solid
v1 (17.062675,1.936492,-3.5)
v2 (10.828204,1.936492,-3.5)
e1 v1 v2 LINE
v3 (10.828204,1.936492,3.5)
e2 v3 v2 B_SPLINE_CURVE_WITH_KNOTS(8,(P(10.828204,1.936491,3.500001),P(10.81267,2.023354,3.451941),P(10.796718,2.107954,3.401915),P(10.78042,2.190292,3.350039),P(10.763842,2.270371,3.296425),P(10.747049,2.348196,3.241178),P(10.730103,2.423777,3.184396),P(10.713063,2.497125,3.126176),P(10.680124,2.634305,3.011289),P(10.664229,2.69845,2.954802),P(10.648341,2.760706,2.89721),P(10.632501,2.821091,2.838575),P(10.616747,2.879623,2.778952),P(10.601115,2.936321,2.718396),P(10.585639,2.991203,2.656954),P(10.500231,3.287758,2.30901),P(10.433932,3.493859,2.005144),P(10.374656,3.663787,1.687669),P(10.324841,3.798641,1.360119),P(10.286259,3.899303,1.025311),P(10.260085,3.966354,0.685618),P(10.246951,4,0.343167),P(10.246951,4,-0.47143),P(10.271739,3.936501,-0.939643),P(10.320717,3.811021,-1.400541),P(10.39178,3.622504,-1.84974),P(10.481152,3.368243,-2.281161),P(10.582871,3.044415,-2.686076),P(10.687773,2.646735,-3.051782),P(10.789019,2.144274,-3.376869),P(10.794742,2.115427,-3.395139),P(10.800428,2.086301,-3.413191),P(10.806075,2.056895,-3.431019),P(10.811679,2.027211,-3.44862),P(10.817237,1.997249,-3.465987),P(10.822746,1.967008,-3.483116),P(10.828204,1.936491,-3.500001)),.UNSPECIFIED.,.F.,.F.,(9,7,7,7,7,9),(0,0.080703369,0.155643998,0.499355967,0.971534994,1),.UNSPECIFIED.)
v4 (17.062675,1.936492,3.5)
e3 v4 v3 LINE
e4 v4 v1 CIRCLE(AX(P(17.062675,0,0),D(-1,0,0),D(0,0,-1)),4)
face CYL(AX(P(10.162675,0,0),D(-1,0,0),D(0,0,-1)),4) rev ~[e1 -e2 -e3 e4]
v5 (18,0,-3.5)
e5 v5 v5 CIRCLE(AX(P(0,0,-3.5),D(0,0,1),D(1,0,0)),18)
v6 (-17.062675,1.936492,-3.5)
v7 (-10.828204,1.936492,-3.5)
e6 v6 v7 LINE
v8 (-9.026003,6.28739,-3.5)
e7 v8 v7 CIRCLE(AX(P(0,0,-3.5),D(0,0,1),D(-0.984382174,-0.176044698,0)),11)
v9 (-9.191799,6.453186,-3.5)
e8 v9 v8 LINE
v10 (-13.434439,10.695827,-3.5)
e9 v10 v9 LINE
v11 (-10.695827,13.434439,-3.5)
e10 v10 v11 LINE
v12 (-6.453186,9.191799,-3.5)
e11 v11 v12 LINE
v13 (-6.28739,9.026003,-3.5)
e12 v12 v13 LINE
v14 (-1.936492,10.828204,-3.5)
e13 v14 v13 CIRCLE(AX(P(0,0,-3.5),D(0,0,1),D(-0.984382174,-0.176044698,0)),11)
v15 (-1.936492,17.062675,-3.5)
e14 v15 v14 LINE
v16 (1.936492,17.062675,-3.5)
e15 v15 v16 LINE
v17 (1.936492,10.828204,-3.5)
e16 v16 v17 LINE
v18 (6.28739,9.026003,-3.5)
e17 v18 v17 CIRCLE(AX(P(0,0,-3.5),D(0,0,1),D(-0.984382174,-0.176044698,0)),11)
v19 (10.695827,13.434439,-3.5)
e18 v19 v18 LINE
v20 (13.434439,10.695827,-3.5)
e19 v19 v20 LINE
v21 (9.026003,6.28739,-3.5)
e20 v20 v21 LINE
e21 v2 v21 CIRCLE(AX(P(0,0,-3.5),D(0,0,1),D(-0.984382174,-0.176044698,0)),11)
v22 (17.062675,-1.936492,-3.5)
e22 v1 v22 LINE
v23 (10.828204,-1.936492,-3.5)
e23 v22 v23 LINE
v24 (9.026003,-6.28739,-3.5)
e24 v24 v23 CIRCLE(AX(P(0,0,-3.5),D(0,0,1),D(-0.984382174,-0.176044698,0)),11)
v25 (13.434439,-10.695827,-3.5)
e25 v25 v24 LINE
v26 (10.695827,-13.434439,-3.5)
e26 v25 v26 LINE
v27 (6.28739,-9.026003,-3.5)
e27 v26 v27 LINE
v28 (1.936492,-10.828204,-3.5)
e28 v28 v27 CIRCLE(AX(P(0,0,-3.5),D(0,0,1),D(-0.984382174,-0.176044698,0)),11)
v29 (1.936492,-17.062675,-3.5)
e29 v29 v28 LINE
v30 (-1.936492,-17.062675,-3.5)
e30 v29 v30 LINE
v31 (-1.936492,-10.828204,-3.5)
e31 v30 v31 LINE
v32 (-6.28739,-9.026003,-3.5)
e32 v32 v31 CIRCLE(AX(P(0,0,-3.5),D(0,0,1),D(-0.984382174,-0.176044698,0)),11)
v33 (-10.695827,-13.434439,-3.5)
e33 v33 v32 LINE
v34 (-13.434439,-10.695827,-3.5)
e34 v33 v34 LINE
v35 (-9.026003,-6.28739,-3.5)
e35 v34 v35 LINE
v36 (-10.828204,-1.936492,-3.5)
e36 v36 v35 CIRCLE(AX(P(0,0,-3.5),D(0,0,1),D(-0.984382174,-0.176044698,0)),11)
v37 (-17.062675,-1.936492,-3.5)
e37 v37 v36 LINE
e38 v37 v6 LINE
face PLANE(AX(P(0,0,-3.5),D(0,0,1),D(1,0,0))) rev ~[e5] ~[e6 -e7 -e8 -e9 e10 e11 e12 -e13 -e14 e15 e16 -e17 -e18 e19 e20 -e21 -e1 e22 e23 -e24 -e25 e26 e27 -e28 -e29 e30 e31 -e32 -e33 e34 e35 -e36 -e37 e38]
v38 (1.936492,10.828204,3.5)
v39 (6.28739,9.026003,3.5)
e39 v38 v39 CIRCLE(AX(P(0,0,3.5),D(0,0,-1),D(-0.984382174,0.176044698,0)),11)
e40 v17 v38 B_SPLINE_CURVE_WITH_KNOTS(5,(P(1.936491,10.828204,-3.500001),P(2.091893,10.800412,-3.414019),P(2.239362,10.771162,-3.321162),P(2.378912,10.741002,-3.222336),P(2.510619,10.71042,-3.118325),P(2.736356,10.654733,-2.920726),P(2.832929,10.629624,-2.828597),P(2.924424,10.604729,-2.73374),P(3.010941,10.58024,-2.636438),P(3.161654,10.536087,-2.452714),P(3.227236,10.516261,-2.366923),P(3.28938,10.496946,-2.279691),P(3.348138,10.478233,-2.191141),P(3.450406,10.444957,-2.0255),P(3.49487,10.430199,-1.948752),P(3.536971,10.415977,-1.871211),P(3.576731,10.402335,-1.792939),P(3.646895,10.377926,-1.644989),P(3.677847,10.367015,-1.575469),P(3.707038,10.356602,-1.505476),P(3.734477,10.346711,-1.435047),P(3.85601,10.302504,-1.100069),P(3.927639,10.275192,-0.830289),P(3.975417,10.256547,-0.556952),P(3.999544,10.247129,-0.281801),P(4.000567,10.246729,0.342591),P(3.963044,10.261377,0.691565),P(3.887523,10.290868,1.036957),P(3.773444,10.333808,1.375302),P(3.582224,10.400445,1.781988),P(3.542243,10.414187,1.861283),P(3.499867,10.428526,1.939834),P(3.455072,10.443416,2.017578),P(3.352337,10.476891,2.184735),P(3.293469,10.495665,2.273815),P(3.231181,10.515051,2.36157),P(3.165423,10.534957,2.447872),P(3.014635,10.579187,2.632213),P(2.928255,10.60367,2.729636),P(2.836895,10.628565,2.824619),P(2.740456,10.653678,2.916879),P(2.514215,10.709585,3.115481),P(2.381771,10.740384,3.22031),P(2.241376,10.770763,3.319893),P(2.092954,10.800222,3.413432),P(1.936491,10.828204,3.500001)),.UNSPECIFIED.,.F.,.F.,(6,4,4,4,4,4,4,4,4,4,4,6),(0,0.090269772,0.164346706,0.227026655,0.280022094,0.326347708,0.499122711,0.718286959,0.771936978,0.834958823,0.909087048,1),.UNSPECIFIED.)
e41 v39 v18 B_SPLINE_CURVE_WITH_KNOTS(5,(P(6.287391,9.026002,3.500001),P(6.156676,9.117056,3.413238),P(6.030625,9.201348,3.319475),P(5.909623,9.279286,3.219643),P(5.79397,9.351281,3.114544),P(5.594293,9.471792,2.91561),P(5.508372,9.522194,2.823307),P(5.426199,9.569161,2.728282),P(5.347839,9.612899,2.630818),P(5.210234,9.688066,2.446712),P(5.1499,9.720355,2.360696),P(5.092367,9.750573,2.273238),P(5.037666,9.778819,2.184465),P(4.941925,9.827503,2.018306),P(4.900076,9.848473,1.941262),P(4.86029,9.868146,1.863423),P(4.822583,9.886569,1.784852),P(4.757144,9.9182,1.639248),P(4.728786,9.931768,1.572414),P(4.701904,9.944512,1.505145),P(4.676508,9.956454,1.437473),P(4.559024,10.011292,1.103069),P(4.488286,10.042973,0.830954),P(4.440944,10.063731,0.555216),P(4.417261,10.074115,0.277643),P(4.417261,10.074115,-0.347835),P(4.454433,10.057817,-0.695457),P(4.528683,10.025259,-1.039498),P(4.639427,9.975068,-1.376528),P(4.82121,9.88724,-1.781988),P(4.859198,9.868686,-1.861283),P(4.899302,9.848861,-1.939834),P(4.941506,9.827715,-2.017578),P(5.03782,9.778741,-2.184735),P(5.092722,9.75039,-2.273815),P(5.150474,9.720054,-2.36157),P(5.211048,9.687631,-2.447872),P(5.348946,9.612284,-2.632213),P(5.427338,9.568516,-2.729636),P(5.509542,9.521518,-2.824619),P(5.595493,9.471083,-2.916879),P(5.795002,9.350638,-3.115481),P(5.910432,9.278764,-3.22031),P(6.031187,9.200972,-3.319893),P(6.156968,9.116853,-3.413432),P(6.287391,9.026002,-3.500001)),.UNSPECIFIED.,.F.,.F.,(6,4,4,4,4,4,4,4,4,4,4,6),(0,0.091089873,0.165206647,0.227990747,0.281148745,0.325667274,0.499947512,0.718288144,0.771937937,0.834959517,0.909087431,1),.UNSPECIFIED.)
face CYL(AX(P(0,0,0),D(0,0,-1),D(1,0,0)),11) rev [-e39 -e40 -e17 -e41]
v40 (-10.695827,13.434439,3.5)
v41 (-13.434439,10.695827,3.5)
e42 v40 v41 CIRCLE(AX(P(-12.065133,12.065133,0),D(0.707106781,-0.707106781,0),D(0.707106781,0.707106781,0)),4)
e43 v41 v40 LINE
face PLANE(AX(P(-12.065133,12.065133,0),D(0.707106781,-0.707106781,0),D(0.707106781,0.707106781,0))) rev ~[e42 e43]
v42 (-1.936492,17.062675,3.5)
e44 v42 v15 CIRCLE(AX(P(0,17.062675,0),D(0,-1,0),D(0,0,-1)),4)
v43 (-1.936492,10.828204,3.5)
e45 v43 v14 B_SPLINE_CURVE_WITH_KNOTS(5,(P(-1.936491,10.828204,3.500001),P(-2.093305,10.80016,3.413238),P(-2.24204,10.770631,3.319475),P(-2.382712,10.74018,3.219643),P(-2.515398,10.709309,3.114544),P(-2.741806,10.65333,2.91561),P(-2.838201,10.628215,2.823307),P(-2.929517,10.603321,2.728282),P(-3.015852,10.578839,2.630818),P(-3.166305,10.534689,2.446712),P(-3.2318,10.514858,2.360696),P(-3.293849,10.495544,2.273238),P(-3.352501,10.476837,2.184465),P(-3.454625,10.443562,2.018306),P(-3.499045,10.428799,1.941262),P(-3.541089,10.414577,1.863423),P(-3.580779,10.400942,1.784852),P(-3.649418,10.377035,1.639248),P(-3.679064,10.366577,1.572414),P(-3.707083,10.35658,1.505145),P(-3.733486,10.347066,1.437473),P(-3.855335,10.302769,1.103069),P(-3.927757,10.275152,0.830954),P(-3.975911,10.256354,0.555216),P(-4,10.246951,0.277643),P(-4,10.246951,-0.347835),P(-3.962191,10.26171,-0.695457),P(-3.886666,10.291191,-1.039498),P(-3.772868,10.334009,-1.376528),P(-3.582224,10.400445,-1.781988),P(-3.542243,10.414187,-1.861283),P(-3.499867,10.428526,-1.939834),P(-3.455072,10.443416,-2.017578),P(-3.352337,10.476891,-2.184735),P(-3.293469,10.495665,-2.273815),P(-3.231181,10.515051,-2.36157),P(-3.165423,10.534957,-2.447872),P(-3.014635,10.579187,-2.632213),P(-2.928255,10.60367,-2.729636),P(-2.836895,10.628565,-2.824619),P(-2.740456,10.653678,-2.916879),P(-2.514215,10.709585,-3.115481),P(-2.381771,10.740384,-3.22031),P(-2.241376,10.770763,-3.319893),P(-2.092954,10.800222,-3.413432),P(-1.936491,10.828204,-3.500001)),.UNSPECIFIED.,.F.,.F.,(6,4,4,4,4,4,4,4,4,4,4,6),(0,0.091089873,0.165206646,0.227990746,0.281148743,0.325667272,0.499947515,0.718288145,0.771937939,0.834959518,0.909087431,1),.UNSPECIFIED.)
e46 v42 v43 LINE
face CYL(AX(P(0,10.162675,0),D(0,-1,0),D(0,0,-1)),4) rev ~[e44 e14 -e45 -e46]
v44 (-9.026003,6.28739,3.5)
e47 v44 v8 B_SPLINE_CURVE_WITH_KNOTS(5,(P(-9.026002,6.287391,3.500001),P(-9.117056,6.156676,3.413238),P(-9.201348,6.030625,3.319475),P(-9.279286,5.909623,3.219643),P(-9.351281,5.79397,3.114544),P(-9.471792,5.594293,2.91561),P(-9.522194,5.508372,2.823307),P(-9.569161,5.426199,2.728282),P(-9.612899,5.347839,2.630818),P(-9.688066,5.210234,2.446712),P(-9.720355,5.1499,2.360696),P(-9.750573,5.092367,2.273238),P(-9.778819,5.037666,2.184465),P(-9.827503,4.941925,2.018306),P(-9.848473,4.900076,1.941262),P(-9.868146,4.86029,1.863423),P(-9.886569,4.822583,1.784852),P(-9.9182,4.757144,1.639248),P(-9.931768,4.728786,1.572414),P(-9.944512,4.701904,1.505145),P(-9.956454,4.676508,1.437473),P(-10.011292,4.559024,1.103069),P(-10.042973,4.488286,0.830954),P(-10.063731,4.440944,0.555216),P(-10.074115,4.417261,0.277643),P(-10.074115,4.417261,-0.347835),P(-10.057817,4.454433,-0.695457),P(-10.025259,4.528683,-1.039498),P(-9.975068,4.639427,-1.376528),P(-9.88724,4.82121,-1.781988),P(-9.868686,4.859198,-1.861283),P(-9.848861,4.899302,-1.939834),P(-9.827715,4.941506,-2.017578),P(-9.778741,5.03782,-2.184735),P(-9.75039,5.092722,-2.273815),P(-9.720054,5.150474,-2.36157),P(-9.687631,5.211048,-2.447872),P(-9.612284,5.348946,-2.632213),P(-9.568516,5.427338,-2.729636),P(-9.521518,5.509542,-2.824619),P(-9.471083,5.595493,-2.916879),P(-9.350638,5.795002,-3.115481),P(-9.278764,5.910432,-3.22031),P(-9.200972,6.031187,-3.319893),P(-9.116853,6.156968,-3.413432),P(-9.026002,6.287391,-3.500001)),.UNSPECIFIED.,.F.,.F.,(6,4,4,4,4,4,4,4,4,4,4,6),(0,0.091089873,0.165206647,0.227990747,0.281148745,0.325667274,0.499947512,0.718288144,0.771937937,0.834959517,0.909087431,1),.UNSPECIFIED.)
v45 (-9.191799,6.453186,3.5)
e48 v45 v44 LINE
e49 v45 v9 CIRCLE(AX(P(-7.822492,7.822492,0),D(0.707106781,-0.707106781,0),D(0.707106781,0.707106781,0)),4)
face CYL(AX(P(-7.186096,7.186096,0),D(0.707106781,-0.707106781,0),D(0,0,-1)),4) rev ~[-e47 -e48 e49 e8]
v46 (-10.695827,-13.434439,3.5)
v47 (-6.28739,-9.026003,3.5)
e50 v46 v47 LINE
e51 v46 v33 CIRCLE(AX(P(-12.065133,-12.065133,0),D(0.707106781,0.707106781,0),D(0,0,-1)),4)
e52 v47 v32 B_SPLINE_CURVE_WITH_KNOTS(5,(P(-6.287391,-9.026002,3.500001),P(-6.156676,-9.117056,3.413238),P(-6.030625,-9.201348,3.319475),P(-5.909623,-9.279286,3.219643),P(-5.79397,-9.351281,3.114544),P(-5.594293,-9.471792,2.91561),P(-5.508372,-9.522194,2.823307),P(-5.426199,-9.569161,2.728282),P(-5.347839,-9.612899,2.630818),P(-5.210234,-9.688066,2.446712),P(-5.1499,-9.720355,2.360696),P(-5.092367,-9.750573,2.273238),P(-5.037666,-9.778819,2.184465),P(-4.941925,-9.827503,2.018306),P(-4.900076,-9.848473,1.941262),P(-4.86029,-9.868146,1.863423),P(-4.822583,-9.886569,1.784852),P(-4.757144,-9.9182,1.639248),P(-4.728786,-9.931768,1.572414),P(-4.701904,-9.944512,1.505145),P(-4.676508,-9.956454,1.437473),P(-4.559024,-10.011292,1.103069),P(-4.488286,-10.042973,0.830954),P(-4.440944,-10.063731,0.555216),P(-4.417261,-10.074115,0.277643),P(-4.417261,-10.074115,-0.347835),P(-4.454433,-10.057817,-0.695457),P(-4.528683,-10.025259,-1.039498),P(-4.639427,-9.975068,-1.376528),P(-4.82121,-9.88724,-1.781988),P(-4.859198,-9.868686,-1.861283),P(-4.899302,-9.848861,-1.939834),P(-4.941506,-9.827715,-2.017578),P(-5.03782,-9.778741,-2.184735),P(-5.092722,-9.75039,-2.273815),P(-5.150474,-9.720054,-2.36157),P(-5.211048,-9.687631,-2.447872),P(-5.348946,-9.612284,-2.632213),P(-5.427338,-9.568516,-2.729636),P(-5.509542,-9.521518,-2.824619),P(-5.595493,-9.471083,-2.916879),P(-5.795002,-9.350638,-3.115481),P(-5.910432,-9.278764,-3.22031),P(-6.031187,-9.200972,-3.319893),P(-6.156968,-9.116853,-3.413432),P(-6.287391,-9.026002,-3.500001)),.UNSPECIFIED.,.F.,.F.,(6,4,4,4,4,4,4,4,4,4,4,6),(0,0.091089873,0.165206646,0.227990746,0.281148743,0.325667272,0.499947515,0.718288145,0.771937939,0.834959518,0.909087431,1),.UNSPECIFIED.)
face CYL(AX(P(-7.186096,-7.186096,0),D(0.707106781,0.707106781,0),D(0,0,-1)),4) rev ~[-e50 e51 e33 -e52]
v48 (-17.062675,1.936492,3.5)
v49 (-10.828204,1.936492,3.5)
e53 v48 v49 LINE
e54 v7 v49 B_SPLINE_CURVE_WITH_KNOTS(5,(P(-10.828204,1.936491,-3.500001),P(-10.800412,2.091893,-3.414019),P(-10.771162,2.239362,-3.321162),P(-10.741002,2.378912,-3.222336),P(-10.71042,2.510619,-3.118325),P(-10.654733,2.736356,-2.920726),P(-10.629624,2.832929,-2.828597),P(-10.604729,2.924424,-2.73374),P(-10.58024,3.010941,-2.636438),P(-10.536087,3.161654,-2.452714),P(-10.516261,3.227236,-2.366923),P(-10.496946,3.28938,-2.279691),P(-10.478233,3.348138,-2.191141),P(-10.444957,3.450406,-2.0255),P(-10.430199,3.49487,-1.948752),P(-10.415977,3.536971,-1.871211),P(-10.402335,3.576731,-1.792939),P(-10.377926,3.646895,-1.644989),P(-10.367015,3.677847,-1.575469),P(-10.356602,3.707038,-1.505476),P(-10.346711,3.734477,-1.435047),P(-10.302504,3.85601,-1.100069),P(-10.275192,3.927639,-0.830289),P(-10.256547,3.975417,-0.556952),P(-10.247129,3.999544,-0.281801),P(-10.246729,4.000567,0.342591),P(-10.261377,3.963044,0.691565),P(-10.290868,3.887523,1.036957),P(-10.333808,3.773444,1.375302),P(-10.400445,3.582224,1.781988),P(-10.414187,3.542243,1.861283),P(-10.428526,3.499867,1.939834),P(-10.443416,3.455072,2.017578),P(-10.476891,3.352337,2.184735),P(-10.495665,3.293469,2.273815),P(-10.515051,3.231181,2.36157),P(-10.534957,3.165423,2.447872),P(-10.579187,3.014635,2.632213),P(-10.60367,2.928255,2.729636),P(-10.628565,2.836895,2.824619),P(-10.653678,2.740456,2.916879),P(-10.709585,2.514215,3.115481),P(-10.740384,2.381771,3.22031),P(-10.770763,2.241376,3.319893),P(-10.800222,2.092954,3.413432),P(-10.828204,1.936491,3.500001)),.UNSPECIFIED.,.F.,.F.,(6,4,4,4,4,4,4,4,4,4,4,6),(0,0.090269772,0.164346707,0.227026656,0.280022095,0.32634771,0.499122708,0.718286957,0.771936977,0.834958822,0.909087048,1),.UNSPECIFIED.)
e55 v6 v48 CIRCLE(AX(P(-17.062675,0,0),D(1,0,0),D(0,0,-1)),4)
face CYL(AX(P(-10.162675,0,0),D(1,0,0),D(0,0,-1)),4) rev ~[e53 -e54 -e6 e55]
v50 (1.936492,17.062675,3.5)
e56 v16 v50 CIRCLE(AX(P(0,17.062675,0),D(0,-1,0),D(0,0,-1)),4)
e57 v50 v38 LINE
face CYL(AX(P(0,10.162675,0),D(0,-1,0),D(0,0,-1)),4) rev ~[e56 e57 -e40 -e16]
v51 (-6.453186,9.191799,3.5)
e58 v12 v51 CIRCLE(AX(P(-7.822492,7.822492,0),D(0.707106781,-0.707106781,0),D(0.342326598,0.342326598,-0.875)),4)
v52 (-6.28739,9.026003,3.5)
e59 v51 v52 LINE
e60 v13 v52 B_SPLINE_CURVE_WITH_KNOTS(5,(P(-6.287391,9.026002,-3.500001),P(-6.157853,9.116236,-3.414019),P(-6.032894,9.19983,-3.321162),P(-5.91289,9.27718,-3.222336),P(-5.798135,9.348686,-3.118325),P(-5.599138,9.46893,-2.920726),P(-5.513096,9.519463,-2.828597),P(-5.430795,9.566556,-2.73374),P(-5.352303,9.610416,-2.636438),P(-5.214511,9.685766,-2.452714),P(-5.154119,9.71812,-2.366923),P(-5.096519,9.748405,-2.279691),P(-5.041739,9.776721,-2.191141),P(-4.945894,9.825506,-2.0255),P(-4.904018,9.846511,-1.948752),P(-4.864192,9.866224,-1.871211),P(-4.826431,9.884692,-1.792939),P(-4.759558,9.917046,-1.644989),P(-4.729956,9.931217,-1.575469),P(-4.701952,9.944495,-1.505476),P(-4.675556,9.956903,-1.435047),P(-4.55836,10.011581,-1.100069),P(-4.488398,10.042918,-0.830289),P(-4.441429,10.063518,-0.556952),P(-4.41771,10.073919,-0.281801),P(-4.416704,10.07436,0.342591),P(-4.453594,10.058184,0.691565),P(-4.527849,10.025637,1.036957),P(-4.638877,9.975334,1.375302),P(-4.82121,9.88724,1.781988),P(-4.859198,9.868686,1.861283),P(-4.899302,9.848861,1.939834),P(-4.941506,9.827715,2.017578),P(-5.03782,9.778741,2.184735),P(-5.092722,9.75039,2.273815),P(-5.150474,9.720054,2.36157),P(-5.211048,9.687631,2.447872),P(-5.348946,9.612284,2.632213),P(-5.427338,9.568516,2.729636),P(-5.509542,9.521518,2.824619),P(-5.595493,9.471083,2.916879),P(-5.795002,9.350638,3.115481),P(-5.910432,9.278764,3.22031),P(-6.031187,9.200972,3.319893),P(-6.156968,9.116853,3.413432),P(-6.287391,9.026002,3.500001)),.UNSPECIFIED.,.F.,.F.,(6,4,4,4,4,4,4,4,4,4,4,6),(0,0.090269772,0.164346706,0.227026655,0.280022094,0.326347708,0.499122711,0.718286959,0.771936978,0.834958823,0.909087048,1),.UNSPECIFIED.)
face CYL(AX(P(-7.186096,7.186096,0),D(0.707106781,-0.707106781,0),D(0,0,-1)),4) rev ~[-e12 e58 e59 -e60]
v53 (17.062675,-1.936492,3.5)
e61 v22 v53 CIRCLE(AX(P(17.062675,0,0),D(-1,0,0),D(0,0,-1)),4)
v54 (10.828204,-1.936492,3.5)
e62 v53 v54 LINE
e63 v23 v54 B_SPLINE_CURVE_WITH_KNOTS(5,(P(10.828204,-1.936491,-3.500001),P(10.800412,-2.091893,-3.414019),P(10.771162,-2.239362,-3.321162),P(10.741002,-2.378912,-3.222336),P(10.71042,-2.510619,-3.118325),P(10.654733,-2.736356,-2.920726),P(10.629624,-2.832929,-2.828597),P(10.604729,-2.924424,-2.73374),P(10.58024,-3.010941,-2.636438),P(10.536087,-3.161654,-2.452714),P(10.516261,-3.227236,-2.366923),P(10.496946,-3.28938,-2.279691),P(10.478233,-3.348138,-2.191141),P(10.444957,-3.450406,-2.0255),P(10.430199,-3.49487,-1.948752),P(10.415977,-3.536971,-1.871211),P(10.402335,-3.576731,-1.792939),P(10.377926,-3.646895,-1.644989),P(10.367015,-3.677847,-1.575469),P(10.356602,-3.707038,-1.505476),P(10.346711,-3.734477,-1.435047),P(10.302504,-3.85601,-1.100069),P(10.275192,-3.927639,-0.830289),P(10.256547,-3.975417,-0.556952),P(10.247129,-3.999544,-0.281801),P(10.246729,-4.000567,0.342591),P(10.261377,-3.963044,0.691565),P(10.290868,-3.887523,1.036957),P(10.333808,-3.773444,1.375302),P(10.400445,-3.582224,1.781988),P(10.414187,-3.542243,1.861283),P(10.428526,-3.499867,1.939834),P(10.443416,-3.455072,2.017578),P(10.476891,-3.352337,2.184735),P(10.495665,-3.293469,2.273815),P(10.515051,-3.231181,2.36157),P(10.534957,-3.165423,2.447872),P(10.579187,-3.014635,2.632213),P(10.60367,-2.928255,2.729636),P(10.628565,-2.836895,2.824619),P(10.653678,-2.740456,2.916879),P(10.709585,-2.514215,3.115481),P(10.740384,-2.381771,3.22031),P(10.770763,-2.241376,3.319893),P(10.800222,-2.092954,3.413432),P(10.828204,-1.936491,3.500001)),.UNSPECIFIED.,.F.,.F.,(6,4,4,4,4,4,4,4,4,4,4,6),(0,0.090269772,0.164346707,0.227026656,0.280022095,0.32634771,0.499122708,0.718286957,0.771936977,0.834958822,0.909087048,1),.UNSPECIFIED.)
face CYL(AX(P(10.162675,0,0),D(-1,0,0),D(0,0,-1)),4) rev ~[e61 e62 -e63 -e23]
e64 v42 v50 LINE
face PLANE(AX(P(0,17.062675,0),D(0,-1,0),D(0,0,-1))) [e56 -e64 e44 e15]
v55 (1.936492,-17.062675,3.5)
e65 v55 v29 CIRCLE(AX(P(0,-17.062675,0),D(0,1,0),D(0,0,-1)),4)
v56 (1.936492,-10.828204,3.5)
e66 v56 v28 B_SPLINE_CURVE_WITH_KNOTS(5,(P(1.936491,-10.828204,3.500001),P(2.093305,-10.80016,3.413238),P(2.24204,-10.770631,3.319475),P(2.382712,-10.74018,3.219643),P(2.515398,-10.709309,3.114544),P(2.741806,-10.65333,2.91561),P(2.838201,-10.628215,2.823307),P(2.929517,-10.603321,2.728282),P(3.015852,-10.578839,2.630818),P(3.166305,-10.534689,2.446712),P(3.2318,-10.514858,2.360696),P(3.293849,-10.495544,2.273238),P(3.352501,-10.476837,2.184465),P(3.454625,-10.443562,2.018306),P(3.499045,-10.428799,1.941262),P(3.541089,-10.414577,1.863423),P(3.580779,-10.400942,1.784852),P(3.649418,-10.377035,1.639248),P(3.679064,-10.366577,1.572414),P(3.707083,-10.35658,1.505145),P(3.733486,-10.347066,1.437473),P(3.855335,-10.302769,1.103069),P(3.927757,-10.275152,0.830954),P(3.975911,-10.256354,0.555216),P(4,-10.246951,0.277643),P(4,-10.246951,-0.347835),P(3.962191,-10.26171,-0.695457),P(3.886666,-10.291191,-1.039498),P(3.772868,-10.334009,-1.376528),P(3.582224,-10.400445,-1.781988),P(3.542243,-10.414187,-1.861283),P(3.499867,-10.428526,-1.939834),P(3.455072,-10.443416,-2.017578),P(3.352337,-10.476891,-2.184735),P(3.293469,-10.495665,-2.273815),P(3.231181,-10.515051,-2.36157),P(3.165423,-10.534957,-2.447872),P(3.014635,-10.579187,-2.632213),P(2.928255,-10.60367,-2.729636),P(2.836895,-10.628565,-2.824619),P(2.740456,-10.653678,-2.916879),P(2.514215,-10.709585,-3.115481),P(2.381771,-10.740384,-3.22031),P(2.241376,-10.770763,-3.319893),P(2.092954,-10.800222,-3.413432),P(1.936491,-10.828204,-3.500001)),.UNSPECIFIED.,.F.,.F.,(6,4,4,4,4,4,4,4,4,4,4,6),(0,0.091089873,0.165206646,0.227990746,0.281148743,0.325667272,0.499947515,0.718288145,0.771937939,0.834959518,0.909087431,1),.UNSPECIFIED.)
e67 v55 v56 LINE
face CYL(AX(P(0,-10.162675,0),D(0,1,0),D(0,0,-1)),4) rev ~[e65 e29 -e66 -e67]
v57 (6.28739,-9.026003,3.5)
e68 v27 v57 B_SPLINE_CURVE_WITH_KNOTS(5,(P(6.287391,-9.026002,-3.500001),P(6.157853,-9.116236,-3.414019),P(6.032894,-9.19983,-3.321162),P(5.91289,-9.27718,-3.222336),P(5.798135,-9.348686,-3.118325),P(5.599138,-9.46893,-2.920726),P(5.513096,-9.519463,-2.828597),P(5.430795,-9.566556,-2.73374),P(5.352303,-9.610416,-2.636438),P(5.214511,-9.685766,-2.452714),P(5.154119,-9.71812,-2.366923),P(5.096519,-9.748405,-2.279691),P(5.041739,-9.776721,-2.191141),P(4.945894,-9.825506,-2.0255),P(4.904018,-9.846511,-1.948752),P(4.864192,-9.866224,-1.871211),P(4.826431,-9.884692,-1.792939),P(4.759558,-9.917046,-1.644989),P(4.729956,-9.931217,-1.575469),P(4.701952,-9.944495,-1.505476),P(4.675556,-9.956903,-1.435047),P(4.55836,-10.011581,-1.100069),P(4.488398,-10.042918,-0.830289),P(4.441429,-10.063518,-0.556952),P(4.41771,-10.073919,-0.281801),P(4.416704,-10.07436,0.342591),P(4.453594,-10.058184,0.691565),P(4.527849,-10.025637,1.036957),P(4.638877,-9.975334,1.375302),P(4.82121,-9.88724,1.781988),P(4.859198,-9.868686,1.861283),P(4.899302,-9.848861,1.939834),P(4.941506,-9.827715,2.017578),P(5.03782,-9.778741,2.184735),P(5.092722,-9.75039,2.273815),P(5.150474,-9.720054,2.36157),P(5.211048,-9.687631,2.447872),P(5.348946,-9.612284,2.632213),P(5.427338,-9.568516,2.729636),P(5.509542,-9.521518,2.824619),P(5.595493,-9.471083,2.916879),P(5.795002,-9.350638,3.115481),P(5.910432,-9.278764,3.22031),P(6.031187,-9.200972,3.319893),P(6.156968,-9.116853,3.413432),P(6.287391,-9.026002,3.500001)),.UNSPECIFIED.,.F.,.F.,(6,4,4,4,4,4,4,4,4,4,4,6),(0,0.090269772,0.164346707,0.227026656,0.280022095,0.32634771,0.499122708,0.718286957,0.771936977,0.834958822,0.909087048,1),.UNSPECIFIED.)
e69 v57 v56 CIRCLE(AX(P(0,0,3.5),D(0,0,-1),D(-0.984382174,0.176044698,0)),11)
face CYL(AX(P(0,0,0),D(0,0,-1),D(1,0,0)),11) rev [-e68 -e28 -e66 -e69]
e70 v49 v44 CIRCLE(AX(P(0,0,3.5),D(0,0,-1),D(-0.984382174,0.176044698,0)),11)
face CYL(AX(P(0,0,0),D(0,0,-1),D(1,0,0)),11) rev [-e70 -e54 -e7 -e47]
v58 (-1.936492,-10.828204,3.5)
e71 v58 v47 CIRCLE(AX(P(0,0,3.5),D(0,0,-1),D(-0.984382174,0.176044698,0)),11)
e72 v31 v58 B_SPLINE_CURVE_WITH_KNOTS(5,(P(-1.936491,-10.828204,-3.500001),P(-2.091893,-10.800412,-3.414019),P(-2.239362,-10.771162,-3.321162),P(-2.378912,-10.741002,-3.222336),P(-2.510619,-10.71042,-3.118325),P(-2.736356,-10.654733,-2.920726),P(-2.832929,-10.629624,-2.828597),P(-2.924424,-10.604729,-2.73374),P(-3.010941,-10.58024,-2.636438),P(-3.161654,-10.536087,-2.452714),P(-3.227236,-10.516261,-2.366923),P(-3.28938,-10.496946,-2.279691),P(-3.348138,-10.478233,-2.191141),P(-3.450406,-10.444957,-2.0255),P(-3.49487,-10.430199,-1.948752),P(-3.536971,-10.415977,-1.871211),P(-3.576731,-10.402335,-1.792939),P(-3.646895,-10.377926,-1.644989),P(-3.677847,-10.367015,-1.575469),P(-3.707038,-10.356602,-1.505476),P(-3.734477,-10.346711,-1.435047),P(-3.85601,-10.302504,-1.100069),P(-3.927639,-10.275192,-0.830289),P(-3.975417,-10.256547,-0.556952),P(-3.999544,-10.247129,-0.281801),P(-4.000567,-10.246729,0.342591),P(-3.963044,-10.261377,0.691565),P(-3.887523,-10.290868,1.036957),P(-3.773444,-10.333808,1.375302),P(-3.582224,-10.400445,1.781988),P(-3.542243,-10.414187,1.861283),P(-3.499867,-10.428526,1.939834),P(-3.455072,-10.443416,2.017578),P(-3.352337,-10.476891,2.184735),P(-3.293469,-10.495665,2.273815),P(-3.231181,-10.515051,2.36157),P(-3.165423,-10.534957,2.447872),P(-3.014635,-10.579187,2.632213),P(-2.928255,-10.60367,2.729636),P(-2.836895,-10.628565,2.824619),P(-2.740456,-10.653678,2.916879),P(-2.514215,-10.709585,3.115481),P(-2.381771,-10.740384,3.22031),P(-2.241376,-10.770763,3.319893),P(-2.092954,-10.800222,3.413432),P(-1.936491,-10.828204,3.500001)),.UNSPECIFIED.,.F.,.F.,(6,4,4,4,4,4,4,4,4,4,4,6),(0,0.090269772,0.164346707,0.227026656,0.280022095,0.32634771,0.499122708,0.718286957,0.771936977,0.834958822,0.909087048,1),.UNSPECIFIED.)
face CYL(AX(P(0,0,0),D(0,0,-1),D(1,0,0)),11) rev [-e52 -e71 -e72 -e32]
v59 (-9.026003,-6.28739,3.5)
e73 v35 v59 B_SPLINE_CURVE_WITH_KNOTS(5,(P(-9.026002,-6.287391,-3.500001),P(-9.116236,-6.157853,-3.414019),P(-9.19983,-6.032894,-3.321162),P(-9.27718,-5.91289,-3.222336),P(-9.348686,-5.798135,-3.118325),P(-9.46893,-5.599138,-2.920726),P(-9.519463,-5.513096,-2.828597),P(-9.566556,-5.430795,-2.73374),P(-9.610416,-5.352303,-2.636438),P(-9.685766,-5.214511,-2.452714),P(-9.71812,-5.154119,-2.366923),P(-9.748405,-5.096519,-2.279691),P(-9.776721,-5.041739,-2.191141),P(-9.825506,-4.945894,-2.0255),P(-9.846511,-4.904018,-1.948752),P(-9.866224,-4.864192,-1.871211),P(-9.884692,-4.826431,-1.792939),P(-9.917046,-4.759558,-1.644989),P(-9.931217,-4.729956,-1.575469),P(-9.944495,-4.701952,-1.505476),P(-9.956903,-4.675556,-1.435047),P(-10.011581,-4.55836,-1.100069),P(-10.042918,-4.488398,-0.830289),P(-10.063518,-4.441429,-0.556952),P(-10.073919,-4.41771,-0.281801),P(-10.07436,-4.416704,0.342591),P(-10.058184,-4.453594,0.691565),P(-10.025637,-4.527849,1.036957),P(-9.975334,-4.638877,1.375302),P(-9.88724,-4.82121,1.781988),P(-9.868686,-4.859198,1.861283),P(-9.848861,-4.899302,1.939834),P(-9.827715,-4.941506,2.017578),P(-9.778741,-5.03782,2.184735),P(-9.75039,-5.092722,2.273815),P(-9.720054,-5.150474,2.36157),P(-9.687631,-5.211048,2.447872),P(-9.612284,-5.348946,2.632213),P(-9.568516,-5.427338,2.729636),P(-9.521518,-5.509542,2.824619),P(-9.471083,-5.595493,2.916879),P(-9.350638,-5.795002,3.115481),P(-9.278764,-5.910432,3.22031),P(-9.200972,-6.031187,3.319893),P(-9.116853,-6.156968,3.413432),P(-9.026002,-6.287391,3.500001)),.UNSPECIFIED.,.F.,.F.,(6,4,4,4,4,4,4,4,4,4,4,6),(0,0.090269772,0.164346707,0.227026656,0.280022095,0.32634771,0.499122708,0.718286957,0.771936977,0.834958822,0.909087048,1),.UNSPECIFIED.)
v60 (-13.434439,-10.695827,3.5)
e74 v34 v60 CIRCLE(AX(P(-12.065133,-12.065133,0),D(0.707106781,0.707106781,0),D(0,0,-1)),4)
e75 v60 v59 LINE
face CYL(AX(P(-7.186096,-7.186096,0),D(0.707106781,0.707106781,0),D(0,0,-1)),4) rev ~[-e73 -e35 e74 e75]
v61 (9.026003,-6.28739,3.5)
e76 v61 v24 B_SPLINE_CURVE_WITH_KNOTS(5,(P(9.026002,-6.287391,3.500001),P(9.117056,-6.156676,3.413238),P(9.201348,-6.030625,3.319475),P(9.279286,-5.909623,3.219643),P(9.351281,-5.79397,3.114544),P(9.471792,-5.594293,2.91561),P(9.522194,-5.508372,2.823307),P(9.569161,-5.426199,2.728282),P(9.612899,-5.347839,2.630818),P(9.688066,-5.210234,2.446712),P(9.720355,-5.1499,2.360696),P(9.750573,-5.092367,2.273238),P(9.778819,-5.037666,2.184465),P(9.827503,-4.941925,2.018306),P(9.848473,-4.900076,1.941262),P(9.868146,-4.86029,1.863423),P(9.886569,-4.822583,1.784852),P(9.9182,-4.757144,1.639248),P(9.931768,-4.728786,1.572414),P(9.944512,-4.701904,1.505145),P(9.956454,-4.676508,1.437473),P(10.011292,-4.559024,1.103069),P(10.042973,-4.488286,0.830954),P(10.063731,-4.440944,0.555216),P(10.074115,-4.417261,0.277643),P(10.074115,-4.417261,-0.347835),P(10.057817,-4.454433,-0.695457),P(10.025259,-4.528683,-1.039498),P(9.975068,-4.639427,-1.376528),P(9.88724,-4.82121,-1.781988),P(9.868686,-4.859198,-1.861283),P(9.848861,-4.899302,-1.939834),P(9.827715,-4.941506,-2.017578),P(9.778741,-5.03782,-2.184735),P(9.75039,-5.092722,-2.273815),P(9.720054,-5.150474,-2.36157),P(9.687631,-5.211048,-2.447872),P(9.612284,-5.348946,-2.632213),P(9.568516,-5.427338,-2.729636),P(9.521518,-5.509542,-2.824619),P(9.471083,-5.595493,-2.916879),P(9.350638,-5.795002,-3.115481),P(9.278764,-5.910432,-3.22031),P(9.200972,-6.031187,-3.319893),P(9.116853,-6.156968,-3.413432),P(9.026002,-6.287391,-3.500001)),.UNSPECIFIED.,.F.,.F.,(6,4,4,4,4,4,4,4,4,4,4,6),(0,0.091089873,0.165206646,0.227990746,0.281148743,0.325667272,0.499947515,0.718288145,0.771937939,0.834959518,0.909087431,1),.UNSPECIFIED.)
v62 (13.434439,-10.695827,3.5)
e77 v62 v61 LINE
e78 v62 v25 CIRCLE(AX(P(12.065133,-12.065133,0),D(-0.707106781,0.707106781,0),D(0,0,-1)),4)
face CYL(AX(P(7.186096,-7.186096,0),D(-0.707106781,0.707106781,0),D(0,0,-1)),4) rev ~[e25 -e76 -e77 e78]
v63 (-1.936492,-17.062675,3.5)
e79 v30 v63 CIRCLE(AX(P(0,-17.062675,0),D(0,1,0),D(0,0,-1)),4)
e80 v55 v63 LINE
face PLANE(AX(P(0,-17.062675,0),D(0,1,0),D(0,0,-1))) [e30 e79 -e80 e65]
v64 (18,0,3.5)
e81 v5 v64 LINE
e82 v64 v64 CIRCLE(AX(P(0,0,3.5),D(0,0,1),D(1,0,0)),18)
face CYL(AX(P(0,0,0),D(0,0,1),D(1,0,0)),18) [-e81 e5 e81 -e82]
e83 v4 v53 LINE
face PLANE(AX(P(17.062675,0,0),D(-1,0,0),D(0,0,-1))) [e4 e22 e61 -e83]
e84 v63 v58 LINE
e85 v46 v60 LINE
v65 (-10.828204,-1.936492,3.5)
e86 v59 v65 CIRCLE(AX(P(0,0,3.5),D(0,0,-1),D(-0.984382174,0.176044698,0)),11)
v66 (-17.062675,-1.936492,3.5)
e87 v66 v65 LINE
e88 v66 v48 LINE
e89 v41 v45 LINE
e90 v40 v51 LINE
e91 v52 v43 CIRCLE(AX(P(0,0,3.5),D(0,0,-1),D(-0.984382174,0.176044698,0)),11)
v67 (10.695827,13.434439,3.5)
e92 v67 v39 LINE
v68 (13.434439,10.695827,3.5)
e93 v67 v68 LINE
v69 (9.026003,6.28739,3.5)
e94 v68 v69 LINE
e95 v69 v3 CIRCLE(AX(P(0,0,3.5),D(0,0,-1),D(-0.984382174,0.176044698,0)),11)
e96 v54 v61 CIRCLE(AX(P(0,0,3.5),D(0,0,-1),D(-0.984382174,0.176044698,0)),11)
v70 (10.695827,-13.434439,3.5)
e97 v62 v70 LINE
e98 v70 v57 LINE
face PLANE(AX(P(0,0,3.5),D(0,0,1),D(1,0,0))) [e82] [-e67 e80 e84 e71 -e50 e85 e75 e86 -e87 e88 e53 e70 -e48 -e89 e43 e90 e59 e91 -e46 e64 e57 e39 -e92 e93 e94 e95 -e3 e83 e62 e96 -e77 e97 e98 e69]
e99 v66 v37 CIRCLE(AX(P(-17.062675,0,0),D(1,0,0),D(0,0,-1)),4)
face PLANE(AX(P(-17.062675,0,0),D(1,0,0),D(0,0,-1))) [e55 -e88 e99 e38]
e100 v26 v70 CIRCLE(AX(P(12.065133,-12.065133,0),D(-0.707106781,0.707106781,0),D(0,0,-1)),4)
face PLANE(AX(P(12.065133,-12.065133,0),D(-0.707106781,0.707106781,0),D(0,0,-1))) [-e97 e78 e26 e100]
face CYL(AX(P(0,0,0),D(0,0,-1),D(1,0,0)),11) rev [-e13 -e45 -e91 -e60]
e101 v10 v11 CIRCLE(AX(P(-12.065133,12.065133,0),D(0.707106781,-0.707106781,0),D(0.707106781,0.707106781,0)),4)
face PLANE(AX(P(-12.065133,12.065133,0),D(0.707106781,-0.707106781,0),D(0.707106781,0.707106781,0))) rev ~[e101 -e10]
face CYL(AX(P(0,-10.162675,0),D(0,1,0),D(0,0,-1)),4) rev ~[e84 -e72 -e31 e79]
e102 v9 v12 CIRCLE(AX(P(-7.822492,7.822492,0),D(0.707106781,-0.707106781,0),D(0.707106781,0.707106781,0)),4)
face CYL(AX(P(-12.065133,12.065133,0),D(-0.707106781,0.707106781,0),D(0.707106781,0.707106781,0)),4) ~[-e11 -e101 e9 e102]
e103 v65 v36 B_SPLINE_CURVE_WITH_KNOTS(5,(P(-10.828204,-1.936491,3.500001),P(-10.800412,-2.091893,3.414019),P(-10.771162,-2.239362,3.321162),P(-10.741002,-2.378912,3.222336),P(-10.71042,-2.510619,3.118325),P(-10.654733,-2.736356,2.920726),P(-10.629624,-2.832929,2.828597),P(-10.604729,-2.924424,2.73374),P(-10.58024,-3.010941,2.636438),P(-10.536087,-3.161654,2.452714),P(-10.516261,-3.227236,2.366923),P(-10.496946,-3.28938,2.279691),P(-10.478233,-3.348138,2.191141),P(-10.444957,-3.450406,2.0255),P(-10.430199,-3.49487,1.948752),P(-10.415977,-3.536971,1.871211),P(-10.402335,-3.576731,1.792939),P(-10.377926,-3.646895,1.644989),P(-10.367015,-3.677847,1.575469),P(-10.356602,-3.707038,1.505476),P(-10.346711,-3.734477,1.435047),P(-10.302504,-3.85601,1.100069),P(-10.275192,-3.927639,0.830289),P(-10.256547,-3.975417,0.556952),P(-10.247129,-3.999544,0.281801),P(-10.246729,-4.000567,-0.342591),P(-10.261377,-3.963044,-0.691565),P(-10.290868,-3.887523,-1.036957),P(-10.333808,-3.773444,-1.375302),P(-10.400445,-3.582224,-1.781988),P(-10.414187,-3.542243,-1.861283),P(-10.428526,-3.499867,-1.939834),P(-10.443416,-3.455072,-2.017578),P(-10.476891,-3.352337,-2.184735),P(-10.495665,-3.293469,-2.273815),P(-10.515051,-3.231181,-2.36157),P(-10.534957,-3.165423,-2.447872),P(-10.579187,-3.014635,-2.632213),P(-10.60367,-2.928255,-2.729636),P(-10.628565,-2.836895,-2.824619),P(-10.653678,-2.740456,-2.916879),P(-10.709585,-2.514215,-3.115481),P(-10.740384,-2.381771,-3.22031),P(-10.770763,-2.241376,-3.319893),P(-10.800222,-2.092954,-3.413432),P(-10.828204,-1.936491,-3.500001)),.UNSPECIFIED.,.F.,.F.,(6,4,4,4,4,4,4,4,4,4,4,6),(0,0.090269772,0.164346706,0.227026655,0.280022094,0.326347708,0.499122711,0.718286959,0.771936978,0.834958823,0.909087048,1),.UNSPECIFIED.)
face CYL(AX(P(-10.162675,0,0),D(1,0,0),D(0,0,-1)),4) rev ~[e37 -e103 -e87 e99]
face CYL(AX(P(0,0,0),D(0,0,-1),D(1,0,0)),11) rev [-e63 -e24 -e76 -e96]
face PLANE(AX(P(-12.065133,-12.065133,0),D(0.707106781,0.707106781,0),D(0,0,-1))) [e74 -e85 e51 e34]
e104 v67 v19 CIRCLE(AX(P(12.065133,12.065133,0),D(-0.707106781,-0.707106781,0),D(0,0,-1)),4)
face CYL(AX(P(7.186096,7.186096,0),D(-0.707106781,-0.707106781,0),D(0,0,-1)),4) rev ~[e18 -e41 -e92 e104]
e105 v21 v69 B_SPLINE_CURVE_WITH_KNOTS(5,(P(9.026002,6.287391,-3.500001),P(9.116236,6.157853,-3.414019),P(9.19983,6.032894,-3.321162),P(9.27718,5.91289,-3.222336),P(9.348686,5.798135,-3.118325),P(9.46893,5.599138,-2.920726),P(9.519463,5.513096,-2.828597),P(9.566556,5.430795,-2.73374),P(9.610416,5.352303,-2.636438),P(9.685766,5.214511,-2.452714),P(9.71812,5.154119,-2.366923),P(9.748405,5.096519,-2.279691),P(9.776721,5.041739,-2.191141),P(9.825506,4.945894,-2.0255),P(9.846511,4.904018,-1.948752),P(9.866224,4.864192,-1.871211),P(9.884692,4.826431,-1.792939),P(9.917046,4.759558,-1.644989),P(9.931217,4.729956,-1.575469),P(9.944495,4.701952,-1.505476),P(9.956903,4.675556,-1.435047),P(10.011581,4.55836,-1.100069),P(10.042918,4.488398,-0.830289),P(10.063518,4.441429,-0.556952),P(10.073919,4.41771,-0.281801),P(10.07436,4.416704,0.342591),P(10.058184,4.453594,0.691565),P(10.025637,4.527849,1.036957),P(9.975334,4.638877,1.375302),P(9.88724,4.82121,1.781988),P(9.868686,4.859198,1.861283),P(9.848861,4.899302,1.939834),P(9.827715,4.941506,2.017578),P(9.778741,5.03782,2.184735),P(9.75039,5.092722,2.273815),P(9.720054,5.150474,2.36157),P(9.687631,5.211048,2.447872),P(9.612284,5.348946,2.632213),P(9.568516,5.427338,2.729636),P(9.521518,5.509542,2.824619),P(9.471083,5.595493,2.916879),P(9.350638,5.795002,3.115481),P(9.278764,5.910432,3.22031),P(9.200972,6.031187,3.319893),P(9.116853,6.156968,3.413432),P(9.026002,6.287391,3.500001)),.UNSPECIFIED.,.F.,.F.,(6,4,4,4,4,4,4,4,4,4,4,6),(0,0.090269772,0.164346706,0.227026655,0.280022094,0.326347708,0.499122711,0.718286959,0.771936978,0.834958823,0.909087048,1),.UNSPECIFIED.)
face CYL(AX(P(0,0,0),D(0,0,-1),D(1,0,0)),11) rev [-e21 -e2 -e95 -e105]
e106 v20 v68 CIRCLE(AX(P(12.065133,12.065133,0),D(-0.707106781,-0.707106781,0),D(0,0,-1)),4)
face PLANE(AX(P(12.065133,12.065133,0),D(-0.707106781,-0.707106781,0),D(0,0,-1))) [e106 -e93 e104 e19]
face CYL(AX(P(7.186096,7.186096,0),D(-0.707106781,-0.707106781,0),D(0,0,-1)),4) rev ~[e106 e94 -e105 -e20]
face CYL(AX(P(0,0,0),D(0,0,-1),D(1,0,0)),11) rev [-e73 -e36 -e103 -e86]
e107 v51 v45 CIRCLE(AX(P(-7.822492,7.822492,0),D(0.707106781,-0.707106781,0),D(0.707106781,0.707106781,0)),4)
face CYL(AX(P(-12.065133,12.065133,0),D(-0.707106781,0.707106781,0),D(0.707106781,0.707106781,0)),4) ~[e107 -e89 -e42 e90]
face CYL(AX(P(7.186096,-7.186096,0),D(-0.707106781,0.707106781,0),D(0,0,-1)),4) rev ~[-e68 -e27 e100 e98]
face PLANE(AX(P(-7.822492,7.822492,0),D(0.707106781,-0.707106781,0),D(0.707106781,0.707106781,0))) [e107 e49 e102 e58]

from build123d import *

# Parameters (mm, degrees)
SKETCH1_R                   = 18
SKETCH1_R_2                 = 11
BOSS_EXTRUDE1_DEPTH         = 3.5
SKETCH4_R                   = 4
CUT_EXTRUDE1_DEPTH          = 6.9
CIRPATTERN1_COUNT           = 8
SKETCH5_R                   = 4
SPACECLAIM_FOR_MAGNET_DEPTH = 6


with BuildPart() as part:
    # Sketch1 → Boss-Extrude1 (new, symmetric)
    with BuildSketch(Plane.XY):
        Circle(SKETCH1_R)
        Circle(SKETCH1_R_2, mode=Mode.SUBTRACT)
    extrude(amount=BOSS_EXTRUDE1_DEPTH, both=True)

    # Sketch4 → Cut-Extrude1 (cut)
    with BuildSketch(Plane(origin=(-10.162674858, 0, 0), x_dir=(0, 0, -1), z_dir=(1, 0, 0))):
        Circle(SKETCH4_R)
    cut_extrude1 = extrude(amount=-CUT_EXTRUDE1_DEPTH, mode=Mode.SUBTRACT)

    # CirPattern1: Cut-Extrude1 ×8 about axis
    cirpattern1_axis = Axis((0, 0, 3.5), (0, 0, -1))
    for i in range(1, CIRPATTERN1_COUNT):
        add(cut_extrude1.rotate(cirpattern1_axis, i * 360 / CIRPATTERN1_COUNT), mode=Mode.SUBTRACT)

    # Sketch5 → SpaceClaim for Magnet (add)
    with BuildSketch(Plane(origin=(-12.065133097, 12.065133097, 0), x_dir=(0.7071067811865487, 0.7071067811865465, 0), z_dir=(0.7071067811865465, -0.7071067811865487, 0))):
        Circle(SKETCH5_R)
    extrude(amount=SPACECLAIM_FOR_MAGNET_DEPTH)


solid = part.part
